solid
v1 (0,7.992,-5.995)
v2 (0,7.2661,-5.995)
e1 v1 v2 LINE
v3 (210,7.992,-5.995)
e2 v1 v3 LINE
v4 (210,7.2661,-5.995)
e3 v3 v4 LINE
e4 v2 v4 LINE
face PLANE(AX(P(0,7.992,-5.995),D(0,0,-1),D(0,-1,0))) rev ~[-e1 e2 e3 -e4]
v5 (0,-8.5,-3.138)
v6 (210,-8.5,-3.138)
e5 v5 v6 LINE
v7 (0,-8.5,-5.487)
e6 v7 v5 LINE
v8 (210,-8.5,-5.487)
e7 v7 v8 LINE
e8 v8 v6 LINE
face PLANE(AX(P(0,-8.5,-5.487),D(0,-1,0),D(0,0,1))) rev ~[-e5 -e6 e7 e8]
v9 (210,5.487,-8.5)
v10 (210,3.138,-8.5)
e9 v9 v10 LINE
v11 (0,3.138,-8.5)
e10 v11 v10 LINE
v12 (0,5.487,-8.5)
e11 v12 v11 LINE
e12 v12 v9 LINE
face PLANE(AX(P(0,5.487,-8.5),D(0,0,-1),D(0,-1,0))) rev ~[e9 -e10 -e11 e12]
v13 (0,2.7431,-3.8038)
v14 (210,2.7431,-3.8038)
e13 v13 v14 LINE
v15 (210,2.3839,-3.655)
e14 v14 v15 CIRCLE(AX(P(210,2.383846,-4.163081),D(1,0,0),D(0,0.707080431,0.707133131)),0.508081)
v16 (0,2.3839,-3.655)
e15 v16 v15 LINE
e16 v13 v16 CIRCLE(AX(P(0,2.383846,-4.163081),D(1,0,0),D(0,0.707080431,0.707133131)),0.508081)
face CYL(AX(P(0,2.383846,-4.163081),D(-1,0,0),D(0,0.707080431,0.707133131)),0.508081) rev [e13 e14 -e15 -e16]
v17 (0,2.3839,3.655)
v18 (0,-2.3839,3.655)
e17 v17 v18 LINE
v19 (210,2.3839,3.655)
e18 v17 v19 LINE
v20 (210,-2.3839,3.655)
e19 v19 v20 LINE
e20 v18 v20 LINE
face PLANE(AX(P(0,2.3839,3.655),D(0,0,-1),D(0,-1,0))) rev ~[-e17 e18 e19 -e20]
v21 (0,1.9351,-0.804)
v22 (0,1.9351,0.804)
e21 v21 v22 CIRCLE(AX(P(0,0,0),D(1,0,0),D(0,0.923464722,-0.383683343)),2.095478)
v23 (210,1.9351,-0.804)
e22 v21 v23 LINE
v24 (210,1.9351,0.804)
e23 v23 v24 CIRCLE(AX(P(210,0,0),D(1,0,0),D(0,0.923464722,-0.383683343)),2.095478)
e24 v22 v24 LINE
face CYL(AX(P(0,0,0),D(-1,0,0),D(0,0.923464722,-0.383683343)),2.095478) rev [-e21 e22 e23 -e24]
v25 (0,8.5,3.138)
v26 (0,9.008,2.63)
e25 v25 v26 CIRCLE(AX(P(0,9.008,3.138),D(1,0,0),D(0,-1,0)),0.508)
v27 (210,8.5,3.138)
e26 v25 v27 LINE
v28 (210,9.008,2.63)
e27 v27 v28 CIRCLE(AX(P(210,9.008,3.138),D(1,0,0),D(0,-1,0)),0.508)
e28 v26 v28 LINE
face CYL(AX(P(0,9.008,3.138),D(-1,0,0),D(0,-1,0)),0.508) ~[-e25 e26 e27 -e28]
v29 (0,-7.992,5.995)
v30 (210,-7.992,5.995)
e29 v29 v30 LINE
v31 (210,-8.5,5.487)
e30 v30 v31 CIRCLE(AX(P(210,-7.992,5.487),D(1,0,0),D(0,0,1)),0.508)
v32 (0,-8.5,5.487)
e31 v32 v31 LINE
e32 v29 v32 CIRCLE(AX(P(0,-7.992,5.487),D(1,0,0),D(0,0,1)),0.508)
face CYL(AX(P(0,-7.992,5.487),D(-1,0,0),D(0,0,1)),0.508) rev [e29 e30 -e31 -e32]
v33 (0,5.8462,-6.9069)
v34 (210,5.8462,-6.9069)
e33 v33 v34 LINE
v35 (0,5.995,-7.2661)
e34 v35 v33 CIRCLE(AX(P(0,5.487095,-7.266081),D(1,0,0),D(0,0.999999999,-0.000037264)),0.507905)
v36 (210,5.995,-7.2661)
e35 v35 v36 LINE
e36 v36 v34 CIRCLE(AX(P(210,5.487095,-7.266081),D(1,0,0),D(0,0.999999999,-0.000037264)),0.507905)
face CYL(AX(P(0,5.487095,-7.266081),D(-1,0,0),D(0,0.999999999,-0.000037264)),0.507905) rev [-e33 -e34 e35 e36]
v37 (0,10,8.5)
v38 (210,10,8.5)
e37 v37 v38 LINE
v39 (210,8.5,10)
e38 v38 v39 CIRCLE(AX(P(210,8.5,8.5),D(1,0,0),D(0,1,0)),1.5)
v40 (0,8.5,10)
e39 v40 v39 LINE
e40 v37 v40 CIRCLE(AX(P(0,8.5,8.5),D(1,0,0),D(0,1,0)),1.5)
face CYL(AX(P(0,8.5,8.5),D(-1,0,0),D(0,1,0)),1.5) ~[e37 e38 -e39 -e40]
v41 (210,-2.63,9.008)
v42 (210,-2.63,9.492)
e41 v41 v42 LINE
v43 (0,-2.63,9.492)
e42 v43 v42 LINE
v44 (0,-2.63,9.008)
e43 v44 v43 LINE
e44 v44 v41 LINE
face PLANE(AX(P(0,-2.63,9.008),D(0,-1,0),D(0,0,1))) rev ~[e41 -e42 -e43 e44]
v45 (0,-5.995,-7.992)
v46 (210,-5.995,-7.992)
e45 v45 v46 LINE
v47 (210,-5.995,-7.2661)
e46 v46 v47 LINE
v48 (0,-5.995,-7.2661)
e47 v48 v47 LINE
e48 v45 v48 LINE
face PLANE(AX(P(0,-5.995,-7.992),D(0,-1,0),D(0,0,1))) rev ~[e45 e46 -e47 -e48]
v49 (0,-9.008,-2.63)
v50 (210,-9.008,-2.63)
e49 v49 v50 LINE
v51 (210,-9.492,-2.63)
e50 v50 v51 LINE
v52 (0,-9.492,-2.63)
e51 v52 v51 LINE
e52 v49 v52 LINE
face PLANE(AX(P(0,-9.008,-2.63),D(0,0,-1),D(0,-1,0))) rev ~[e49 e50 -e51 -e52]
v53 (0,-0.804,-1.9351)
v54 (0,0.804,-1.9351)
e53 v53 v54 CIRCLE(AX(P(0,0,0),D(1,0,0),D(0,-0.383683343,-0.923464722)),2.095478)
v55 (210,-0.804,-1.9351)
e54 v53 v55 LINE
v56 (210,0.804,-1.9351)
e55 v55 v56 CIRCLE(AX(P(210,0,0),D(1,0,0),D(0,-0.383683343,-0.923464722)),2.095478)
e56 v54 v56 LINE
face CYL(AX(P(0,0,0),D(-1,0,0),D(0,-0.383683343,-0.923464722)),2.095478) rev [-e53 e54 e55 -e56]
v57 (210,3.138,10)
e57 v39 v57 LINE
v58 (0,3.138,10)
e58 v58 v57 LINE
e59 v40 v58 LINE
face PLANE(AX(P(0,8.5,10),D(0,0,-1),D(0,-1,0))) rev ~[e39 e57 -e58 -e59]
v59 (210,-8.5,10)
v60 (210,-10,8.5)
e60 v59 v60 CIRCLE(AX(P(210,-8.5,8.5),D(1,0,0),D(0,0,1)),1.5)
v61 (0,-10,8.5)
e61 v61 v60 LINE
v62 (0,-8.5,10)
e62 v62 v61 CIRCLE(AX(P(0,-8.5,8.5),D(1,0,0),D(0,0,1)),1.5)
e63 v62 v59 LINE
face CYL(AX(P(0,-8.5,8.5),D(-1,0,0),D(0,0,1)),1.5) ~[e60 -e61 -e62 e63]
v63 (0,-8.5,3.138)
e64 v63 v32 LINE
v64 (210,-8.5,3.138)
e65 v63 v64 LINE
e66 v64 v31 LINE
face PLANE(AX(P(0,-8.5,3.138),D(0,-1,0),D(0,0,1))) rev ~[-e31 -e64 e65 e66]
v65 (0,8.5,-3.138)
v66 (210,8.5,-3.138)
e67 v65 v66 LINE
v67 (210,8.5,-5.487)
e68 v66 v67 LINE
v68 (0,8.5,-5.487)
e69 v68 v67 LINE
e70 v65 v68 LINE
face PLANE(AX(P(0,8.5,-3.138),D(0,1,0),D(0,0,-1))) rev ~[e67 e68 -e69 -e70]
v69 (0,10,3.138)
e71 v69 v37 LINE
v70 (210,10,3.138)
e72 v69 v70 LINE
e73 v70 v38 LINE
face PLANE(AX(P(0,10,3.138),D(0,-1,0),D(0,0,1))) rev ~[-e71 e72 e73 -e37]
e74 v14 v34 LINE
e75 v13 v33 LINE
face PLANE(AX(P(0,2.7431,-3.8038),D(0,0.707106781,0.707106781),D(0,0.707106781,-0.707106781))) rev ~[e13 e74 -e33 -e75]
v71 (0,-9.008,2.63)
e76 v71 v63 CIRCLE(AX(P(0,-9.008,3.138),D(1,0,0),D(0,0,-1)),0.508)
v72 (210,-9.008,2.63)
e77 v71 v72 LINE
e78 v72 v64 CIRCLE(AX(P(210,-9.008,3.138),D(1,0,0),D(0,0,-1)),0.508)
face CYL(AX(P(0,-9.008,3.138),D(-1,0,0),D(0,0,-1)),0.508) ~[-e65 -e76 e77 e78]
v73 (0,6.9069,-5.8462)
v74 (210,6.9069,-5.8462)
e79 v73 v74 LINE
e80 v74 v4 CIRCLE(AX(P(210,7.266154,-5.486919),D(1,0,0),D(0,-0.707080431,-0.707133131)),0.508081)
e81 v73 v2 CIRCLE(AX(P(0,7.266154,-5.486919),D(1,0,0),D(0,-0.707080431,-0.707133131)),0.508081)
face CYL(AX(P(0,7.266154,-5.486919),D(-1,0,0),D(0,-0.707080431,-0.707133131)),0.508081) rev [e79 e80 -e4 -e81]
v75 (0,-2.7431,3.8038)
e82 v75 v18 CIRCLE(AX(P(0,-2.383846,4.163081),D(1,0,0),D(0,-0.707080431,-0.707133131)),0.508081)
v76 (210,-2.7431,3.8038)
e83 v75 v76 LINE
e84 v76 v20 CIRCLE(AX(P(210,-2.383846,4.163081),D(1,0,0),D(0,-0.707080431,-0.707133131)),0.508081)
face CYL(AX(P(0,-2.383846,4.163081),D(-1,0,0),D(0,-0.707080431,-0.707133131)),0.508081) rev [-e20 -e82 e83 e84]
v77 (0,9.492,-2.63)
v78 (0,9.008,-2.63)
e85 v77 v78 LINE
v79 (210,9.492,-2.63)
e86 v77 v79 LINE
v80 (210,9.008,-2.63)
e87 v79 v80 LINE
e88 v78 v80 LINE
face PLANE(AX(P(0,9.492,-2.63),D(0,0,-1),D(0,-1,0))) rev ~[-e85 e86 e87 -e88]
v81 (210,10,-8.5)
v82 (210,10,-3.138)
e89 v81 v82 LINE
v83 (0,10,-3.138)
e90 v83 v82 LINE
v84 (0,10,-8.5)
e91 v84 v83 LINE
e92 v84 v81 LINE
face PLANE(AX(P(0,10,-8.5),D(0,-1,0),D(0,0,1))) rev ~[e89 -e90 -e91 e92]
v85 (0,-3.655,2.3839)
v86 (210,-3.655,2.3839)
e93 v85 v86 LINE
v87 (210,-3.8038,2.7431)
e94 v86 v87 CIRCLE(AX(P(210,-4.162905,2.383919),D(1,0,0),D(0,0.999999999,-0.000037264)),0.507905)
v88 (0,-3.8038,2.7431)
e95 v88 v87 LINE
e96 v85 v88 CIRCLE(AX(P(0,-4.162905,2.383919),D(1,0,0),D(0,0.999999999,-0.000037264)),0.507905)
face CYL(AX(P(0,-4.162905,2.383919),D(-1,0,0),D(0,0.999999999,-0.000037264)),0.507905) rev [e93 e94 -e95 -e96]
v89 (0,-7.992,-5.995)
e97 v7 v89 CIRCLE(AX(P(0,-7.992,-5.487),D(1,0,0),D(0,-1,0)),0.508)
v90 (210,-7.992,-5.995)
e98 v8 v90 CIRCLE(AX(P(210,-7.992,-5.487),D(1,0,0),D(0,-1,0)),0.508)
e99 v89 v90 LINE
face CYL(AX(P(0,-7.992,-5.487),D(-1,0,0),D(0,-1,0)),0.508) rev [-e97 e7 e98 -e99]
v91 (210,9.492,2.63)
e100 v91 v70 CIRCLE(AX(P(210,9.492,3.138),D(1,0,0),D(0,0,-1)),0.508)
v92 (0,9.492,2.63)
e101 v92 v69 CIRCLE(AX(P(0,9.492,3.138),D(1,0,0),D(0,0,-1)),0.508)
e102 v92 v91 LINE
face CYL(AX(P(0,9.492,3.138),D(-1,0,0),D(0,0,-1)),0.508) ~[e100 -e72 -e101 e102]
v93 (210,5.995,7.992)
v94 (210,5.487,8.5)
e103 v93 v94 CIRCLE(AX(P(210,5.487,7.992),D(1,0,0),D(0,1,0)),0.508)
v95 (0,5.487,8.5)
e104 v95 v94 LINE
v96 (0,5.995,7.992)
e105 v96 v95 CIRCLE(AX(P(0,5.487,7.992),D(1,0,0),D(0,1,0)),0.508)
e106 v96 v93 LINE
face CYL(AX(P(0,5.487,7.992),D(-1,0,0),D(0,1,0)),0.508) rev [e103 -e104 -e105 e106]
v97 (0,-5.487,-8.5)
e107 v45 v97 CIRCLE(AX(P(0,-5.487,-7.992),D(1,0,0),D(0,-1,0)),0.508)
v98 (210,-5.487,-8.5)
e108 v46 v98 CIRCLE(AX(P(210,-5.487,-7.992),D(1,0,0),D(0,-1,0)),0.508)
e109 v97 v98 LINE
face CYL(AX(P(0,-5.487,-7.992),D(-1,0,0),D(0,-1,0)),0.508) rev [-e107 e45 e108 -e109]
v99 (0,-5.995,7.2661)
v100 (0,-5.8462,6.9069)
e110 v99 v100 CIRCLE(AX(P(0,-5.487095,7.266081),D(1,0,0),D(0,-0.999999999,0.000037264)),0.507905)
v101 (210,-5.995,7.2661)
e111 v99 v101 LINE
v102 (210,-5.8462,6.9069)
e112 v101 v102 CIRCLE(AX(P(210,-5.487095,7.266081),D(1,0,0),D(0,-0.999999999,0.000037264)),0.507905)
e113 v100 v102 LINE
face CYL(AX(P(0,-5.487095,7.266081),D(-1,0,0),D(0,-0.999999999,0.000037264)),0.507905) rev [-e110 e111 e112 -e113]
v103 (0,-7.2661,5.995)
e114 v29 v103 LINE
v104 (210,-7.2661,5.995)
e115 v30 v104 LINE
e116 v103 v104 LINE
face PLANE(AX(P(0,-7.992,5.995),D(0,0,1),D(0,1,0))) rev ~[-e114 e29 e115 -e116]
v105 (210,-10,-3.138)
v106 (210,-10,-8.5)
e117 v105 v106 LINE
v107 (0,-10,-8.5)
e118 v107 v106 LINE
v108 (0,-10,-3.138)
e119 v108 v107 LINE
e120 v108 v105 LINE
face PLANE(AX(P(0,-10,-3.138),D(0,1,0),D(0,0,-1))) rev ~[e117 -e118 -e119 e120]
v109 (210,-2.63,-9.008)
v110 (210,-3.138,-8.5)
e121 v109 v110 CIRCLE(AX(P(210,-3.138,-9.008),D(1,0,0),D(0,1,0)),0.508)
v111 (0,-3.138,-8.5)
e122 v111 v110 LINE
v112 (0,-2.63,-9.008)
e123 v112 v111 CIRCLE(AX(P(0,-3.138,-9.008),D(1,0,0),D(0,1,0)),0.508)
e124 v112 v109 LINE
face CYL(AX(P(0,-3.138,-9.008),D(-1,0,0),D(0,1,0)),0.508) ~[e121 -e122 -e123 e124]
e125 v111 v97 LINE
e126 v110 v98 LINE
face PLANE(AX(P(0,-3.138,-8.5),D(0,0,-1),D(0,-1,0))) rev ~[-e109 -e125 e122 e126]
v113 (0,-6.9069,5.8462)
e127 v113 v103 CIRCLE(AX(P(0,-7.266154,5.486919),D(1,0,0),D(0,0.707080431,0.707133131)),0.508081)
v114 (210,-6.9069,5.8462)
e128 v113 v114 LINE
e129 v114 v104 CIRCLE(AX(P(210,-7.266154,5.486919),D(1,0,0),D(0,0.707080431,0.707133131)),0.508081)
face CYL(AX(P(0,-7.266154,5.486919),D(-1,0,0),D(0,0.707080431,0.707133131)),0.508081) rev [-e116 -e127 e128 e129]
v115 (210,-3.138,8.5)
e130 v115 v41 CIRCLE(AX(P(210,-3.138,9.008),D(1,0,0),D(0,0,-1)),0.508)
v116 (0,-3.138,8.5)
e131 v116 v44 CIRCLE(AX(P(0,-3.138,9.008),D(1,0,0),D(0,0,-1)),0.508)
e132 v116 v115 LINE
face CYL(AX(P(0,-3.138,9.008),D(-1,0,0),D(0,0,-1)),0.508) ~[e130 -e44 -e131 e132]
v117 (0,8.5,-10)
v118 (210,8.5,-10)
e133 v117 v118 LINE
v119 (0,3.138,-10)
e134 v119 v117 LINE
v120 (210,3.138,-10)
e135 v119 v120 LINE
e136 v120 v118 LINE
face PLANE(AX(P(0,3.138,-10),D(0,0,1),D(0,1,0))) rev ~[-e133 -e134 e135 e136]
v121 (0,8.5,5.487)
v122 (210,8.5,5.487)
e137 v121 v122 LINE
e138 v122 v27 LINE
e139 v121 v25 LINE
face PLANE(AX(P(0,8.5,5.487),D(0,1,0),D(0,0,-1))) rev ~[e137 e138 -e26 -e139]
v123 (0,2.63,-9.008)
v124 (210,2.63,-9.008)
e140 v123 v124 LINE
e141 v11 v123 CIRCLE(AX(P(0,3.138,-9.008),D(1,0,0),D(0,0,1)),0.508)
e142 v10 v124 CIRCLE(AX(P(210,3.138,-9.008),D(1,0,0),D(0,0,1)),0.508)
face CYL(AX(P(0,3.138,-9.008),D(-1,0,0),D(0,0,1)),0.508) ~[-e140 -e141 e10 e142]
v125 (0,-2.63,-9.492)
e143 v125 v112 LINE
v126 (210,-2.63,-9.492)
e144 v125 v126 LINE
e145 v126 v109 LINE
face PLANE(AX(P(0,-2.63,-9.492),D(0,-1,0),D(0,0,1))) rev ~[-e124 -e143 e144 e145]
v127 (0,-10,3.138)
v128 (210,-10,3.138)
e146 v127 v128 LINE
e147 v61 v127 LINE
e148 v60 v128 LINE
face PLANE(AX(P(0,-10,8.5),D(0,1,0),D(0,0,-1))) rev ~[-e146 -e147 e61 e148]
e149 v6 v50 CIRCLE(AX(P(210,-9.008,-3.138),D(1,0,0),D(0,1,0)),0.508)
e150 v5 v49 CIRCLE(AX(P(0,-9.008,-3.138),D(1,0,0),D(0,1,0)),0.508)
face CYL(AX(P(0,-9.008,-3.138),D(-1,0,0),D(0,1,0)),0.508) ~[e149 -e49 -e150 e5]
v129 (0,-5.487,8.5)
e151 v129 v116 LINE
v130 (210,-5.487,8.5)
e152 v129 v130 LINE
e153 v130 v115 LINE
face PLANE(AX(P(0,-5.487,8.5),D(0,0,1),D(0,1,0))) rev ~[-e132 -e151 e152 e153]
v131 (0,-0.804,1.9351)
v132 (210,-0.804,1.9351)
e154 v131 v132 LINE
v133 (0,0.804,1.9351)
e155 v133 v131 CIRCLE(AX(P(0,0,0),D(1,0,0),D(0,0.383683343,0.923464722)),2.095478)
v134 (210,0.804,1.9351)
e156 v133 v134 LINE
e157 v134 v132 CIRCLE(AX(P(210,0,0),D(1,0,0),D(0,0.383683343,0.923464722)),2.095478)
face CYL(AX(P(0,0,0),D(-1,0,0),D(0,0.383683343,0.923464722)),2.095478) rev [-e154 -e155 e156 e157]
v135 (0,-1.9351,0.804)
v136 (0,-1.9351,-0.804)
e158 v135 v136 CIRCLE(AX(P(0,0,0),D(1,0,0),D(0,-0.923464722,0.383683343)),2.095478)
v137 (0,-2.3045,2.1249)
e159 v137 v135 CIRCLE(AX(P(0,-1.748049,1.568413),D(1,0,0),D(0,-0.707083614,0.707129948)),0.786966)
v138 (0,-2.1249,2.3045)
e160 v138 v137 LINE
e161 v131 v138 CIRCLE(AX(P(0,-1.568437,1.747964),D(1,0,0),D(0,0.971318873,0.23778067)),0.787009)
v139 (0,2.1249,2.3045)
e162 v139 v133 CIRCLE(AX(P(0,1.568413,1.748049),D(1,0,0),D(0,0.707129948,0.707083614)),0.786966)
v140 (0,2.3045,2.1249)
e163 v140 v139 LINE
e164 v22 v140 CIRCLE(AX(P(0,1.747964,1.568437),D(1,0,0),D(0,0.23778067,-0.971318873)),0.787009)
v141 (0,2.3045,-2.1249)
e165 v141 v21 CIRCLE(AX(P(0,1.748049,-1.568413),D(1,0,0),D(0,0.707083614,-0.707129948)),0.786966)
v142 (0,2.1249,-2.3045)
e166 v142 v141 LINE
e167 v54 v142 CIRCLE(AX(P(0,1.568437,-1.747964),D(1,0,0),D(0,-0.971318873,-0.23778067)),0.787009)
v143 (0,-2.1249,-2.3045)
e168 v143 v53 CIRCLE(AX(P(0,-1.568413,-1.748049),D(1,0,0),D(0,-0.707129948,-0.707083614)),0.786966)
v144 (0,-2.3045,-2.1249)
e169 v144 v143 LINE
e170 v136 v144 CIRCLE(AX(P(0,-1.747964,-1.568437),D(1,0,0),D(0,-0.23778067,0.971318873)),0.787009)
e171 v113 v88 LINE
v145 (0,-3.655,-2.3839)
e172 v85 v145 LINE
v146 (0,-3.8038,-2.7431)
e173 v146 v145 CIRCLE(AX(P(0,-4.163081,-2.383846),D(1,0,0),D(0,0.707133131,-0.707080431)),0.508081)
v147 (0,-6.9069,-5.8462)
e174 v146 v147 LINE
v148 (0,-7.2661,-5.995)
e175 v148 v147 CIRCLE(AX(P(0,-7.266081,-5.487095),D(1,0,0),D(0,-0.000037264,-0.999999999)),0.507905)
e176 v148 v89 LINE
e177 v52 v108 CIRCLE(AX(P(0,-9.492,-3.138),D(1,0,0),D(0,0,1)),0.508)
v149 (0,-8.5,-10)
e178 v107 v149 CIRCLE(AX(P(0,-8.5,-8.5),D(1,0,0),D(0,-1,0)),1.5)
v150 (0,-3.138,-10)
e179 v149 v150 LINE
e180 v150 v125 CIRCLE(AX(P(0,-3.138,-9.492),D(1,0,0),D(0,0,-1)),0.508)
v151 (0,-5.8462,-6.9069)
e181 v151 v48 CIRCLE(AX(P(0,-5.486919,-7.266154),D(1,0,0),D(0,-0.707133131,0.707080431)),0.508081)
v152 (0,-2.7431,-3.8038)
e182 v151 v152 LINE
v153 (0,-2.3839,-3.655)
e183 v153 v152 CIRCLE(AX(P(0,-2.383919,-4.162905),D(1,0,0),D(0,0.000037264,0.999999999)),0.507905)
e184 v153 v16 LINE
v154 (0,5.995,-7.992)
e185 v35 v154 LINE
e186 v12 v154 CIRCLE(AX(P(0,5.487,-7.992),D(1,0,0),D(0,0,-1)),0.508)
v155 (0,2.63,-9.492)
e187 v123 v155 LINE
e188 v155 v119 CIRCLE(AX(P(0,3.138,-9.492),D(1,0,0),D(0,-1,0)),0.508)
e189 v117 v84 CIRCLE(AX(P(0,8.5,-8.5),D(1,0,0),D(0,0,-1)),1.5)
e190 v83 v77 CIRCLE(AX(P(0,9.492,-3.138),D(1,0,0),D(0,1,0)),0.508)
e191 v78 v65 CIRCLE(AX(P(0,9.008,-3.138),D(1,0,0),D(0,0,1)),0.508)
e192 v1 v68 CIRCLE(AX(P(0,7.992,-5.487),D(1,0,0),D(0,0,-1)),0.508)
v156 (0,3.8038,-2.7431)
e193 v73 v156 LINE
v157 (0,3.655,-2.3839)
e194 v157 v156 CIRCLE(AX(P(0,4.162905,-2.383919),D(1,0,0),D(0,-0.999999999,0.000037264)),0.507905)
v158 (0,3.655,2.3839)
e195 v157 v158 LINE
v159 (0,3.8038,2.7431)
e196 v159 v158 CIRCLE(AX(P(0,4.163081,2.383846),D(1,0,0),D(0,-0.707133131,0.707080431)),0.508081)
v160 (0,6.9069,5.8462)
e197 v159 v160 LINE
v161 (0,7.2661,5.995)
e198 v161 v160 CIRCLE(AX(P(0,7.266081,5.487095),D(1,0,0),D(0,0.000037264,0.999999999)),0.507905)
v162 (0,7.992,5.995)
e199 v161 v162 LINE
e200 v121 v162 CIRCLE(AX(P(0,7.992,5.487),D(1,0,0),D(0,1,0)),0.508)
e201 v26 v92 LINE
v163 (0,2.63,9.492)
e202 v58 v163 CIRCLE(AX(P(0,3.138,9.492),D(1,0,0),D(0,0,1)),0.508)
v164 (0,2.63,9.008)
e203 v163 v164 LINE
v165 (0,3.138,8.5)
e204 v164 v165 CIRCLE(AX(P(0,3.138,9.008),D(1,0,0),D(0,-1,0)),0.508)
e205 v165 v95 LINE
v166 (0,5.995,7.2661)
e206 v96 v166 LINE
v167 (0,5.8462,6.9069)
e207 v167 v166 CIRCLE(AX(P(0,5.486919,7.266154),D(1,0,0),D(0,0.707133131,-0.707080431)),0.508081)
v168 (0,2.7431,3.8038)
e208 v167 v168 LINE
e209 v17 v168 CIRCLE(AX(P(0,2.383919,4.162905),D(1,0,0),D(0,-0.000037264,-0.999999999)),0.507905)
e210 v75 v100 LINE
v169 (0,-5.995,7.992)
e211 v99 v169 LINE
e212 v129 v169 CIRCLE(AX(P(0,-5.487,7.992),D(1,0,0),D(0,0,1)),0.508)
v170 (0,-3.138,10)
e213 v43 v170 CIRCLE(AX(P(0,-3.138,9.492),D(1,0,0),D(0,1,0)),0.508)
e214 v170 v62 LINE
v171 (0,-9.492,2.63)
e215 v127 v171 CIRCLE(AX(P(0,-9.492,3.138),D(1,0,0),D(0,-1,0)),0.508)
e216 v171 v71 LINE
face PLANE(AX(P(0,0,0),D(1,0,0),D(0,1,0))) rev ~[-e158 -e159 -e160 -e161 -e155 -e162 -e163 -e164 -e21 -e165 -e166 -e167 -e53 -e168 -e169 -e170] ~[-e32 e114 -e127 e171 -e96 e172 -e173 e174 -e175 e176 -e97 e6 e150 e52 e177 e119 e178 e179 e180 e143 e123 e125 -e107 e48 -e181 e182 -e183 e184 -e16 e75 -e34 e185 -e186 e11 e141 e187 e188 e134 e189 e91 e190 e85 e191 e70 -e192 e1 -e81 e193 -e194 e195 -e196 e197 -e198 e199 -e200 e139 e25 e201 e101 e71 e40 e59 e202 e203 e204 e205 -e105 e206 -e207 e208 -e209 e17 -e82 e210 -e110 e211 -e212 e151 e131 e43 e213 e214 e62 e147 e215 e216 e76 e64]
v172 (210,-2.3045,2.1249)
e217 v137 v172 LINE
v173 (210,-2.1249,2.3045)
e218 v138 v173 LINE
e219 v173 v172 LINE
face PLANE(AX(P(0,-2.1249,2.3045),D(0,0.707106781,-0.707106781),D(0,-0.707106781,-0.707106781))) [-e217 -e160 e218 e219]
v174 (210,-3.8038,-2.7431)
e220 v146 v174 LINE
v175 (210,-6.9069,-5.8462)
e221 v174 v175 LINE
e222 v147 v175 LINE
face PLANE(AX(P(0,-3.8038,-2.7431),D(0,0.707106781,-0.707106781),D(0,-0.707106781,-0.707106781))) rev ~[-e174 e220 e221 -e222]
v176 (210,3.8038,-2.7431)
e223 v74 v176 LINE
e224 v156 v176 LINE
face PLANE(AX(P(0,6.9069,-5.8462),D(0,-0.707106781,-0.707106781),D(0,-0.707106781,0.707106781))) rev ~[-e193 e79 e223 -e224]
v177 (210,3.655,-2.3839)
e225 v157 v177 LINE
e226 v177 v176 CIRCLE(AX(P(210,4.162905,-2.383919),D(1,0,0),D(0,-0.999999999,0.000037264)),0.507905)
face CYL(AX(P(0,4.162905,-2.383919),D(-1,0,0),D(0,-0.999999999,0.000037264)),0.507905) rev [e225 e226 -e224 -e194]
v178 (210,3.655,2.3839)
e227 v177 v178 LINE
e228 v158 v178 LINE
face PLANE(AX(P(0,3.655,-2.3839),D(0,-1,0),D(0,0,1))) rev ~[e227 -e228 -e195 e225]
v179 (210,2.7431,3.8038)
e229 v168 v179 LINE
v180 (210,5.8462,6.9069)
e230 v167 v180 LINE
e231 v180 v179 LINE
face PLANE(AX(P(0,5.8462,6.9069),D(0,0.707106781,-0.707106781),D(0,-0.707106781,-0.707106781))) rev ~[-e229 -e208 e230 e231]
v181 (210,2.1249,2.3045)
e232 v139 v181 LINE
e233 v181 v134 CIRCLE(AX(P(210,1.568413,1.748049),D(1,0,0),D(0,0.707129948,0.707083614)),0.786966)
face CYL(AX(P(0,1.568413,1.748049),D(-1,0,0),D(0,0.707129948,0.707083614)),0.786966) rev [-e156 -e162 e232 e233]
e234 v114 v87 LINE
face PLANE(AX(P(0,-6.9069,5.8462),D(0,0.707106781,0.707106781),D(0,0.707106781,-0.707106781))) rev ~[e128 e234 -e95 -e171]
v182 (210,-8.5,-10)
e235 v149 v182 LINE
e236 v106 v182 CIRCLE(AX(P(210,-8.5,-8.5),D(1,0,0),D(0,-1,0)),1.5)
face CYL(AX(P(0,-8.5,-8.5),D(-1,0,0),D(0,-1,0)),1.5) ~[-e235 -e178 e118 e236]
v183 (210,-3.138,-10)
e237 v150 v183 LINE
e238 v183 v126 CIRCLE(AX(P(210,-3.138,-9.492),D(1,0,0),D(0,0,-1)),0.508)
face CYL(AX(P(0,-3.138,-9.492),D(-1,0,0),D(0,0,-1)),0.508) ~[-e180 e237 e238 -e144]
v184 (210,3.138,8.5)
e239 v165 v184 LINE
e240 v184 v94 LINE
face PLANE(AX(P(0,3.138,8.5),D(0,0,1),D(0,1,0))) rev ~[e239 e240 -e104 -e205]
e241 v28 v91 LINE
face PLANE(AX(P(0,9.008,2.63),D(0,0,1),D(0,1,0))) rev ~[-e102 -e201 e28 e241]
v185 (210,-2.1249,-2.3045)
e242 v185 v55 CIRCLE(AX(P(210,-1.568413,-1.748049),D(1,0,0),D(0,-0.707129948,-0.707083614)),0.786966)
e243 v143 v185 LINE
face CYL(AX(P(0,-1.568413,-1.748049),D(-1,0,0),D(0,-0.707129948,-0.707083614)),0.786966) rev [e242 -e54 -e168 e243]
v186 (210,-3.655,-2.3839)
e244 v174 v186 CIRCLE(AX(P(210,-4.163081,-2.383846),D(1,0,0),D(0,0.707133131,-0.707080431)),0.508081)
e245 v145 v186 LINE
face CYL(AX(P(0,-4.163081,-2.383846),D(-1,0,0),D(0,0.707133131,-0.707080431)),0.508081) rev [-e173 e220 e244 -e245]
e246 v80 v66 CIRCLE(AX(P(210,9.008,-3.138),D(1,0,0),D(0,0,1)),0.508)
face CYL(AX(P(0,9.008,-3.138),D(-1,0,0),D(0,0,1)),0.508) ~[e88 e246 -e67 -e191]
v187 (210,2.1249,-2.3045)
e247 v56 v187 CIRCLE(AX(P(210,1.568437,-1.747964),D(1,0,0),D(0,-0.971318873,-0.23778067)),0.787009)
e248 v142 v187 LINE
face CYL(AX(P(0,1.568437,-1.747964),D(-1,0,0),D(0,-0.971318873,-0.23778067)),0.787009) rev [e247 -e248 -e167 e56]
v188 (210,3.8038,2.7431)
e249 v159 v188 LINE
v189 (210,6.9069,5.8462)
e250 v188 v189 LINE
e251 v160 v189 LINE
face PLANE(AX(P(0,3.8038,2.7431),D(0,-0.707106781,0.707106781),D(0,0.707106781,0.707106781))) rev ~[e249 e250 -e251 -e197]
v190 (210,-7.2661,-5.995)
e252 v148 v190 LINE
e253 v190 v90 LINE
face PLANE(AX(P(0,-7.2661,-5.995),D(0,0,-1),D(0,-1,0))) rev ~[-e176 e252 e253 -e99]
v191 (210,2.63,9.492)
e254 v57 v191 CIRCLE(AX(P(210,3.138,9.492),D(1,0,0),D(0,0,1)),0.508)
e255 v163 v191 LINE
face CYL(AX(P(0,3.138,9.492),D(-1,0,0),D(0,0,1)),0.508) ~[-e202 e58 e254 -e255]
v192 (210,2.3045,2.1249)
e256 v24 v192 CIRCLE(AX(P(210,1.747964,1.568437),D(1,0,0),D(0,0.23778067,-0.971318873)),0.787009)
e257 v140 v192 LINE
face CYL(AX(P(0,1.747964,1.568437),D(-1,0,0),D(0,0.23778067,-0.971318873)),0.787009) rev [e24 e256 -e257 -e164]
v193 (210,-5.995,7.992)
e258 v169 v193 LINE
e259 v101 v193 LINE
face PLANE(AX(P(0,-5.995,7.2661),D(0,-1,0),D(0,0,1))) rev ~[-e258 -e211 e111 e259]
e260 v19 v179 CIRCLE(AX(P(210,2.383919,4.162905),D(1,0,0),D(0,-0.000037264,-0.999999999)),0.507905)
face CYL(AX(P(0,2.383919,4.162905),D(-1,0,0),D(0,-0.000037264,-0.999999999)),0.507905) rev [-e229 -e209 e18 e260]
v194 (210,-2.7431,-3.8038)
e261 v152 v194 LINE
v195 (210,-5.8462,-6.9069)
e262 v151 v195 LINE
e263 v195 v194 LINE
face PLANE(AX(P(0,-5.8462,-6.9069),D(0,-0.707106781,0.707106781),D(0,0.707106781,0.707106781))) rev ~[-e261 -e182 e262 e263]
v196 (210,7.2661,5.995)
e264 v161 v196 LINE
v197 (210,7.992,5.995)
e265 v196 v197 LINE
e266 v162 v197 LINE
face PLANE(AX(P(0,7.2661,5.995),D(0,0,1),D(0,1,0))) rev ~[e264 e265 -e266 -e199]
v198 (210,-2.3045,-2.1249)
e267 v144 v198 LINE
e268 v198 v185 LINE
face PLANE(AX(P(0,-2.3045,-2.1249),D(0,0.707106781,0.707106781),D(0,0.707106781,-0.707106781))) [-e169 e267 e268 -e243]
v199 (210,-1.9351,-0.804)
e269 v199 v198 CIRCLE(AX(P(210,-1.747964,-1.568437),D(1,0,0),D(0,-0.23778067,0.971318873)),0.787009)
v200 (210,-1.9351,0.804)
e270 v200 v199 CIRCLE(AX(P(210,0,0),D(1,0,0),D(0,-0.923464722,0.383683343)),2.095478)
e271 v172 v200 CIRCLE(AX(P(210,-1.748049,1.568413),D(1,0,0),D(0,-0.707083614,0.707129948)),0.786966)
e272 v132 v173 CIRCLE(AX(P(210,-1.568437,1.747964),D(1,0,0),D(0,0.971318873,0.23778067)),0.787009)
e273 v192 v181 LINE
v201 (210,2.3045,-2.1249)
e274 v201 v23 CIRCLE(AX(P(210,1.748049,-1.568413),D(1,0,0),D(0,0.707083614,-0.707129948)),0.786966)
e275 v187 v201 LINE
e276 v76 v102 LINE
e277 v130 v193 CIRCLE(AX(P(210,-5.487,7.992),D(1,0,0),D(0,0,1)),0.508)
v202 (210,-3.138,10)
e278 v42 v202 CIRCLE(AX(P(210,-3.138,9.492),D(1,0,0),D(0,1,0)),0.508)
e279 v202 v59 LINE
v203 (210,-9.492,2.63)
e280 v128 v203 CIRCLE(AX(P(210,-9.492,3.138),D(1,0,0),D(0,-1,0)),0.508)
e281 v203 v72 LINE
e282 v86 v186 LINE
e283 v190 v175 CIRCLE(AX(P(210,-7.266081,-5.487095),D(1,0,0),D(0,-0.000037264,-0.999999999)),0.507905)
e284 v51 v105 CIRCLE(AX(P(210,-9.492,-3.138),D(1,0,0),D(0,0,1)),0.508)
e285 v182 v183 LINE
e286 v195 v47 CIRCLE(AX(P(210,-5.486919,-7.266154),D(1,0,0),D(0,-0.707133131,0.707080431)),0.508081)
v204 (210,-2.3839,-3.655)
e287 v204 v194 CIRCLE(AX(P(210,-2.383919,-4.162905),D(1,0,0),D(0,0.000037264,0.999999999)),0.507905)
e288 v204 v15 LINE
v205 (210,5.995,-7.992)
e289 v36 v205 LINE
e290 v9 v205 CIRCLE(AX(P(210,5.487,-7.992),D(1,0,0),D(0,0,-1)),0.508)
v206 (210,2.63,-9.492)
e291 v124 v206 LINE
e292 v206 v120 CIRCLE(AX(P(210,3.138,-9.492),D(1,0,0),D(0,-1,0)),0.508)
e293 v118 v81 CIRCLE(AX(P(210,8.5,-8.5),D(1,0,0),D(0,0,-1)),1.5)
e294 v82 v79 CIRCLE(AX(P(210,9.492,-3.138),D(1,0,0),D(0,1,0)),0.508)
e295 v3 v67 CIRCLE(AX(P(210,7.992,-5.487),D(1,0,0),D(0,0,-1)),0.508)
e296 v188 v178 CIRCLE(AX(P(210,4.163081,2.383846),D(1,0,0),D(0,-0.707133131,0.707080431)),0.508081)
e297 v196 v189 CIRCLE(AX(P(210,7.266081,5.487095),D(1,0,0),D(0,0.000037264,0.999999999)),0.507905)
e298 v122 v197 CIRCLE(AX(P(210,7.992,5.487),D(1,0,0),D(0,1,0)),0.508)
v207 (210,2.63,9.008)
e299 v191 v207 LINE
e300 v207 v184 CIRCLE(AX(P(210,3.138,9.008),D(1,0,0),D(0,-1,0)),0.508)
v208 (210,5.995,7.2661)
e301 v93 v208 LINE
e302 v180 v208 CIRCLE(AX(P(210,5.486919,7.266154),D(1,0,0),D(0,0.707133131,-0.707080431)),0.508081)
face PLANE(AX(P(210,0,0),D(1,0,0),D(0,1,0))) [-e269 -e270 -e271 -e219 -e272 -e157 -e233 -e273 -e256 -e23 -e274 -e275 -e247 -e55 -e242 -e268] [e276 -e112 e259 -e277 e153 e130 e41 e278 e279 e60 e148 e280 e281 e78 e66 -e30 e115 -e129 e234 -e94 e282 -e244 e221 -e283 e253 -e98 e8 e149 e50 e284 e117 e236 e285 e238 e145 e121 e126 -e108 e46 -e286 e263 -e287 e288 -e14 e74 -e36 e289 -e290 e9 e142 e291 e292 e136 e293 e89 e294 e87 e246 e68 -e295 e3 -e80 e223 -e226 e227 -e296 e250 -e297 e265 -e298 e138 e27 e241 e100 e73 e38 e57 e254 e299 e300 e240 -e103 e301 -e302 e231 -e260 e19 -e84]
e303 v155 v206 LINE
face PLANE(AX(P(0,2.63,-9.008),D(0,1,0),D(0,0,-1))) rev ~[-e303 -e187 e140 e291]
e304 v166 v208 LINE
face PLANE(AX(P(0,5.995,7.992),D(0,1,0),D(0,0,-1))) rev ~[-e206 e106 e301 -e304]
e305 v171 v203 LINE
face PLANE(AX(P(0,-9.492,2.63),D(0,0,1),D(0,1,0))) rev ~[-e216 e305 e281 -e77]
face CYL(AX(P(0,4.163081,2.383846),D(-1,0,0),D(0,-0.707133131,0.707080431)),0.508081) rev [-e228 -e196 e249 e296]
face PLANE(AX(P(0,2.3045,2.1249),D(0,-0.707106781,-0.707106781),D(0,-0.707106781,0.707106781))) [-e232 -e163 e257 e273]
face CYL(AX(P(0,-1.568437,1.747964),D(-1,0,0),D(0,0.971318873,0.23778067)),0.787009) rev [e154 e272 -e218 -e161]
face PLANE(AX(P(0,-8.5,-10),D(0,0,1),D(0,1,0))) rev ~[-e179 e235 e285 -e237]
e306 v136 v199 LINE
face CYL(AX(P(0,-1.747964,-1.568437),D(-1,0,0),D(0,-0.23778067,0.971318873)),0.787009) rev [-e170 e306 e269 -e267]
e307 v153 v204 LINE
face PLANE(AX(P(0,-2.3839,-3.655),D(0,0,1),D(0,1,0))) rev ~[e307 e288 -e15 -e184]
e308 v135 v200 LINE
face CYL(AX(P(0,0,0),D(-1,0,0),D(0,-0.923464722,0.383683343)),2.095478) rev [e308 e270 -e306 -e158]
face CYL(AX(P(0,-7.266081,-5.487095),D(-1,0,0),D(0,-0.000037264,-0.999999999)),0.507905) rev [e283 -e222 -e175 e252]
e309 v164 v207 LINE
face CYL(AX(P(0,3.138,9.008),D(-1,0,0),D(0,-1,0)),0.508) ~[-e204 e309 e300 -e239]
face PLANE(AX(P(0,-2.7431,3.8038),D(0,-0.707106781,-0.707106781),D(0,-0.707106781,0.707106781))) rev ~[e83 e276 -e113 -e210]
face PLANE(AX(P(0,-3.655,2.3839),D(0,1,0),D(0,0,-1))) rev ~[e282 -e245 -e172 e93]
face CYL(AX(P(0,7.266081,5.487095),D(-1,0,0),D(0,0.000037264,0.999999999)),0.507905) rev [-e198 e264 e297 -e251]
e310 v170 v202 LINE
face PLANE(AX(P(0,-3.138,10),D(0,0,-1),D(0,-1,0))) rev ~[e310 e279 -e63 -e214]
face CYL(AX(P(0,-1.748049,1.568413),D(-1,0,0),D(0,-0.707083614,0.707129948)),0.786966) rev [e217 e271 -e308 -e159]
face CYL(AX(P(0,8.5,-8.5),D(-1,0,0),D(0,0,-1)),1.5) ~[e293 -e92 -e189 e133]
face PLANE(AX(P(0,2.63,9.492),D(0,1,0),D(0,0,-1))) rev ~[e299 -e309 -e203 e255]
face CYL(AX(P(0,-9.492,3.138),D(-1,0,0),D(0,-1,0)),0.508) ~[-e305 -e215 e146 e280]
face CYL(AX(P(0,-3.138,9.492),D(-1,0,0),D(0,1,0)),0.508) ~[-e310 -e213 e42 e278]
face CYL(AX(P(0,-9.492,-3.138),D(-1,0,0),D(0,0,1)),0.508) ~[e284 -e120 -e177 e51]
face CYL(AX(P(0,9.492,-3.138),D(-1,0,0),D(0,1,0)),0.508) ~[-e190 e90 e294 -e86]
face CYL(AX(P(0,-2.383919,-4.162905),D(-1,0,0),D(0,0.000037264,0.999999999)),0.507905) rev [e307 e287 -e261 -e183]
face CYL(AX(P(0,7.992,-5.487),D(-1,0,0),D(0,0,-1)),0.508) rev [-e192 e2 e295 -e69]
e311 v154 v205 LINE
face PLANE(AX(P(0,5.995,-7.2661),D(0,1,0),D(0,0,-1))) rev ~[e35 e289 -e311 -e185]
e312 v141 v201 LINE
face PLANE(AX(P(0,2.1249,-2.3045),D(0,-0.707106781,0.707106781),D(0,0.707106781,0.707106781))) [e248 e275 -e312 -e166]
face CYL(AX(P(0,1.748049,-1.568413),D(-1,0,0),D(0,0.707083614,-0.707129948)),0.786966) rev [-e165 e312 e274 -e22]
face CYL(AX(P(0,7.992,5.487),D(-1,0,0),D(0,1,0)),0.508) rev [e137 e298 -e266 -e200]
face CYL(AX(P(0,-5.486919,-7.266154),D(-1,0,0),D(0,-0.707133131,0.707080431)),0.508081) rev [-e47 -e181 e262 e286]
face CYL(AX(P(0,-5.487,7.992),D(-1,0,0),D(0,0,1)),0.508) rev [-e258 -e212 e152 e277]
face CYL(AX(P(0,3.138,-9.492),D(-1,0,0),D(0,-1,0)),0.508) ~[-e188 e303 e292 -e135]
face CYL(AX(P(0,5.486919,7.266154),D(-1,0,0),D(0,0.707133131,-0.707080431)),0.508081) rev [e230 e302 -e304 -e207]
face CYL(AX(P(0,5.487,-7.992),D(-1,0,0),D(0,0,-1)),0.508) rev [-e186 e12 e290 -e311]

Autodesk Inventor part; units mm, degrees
ref_plane "YZ Plane" through (0, 0, 0) normal (1, 0, 0) x (0, 1, 0)
ref_plane "XZ Plane" through (0, 0, 0) normal (0, 1, 0) x (-1, 0, 0)
ref_plane "XY Plane" through (0, 0, 0) normal (0, 0, 1) x (1, 0, 0)
sketch "Sketch1" plane through (0, 0, 0) normal (1, 0, 0) x (0, 1, 0)
  arc A0 (0.804, -1.9351) -> (2.1249, -2.3045) centre (1.5684, -1.748) ccw
  line L0 (2.1249, -2.3045) -> (2.3045, -2.1249)
  arc A1 (2.3045, -2.1249) -> (1.9351, -0.804) centre (1.748, -1.5684) ccw
  arc A2 (1.9351, -0.804) -> (1.9351, 0.804) centre (0, 0) ccw
  arc A3 (1.9351, 0.804) -> (2.3045, 2.1249) centre (1.748, 1.5684) ccw
  line L1 (2.3045, 2.1249) -> (2.1249, 2.3045)
  arc A4 (2.1249, 2.3045) -> (0.804, 1.9351) centre (1.5684, 1.748) ccw
  arc A5 (0.804, 1.9351) -> (-0.804, 1.9351) centre (0, 0) ccw
  arc A6 (-0.804, 1.9351) -> (-2.1249, 2.3045) centre (-1.5684, 1.748) ccw
  line L2 (-2.1249, 2.3045) -> (-2.3045, 2.1249)
  arc A7 (-2.3045, 2.1249) -> (-1.9351, 0.804) centre (-1.748, 1.5684) ccw
  arc A8 (-1.9351, 0.804) -> (-1.9351, -0.804) centre (0, 0) ccw
  arc A9 (-1.9351, -0.804) -> (-2.3045, -2.1249) centre (-1.748, -1.5684) ccw
  line L3 (-2.3045, -2.1249) -> (-2.1249, -2.3045)
  arc A10 (-2.1249, -2.3045) -> (-0.804, -1.9351) centre (-1.5684, -1.748) ccw
  arc A11 (-0.804, -1.9351) -> (0.804, -1.9351) centre (0, 0) ccw
  line L4 (9.008, 2.63) -> (9.492, 2.63)
  arc A12 (8.5, 3.138) -> (9.008, 2.63) centre (9.008, 3.138) ccw
  line L5 (8.5, 5.487) -> (8.5, 3.138)
  arc A13 (8.5, 5.487) -> (7.992, 5.995) centre (7.992, 5.487) ccw
  line L6 (7.2661, 5.995) -> (7.992, 5.995)
  arc A14 (7.2661, 5.995) -> (6.9069, 5.8462) centre (7.2661, 5.487) ccw
  line L7 (3.8038, 2.7431) -> (6.9069, 5.8462)
  arc A15 (3.8038, 2.7431) -> (3.655, 2.3839) centre (4.163, 2.3839) ccw
  line L8 (3.655, -2.3839) -> (3.655, 2.3839)
  arc A16 (3.655, -2.3839) -> (3.8038, -2.7431) centre (4.163, -2.3839) ccw
  line L9 (6.9069, -5.8462) -> (3.8038, -2.7431)
  arc A17 (6.9069, -5.8462) -> (7.2661, -5.995) centre (7.2661, -5.487) ccw
  line L10 (7.992, -5.995) -> (7.2661, -5.995)
  arc A18 (7.992, -5.995) -> (8.5, -5.487) centre (7.992, -5.487) ccw
  line L11 (8.5, -3.138) -> (8.5, -5.487)
  arc A19 (9.008, -2.63) -> (8.5, -3.138) centre (9.008, -3.138) ccw
  line L12 (9.492, -2.63) -> (9.008, -2.63)
  arc A20 (10, -3.138) -> (9.492, -2.63) centre (9.492, -3.138) ccw
  line L13 (10, -8.5) -> (10, -3.138)
  arc A21 (8.5, -10) -> (10, -8.5) centre (8.5, -8.5) ccw
  line L14 (3.138, -10) -> (8.5, -10)
  arc A22 (2.63, -9.492) -> (3.138, -10) centre (3.138, -9.492) ccw
  line L15 (2.63, -9.008) -> (2.63, -9.492)
  arc A23 (3.138, -8.5) -> (2.63, -9.008) centre (3.138, -9.008) ccw
  line L16 (5.487, -8.5) -> (3.138, -8.5)
  arc A24 (5.487, -8.5) -> (5.995, -7.992) centre (5.487, -7.992) ccw
  line L17 (5.995, -7.2661) -> (5.995, -7.992)
  arc A25 (5.995, -7.2661) -> (5.8462, -6.9069) centre (5.487, -7.2661) ccw
  line L18 (2.7431, -3.8038) -> (5.8462, -6.9069)
  arc A26 (2.7431, -3.8038) -> (2.3839, -3.655) centre (2.3839, -4.163) ccw
  line L19 (-2.3839, -3.655) -> (2.3839, -3.655)
  arc A27 (-2.3839, -3.655) -> (-2.7431, -3.8038) centre (-2.3839, -4.163) ccw
  line L20 (-5.8462, -6.9069) -> (-2.7431, -3.8038)
  arc A28 (-5.8462, -6.9069) -> (-5.995, -7.2661) centre (-5.487, -7.2661) ccw
  line L21 (-5.995, -7.992) -> (-5.995, -7.2661)
  arc A29 (-5.995, -7.992) -> (-5.487, -8.5) centre (-5.487, -7.992) ccw
  line L22 (-3.138, -8.5) -> (-5.487, -8.5)
  arc A30 (-2.63, -9.008) -> (-3.138, -8.5) centre (-3.138, -9.008) ccw
  line L23 (-2.63, -9.492) -> (-2.63, -9.008)
  arc A31 (-3.138, -10) -> (-2.63, -9.492) centre (-3.138, -9.492) ccw
  line L24 (-8.5, -10) -> (-3.138, -10)
  arc A32 (-10, -8.5) -> (-8.5, -10) centre (-8.5, -8.5) ccw
  line L25 (-10, -3.138) -> (-10, -8.5)
  arc A33 (-9.492, -2.63) -> (-10, -3.138) centre (-9.492, -3.138) ccw
  line L26 (-9.008, -2.63) -> (-9.492, -2.63)
  arc A34 (-8.5, -3.138) -> (-9.008, -2.63) centre (-9.008, -3.138) ccw
  line L27 (-8.5, -5.487) -> (-8.5, -3.138)
  arc A35 (-8.5, -5.487) -> (-7.992, -5.995) centre (-7.992, -5.487) ccw
  line L28 (-7.2661, -5.995) -> (-7.992, -5.995)
  arc A36 (-7.2661, -5.995) -> (-6.9069, -5.8462) centre (-7.2661, -5.487) ccw
  line L29 (-3.8038, -2.7431) -> (-6.9069, -5.8462)
  arc A37 (-3.8038, -2.7431) -> (-3.655, -2.3839) centre (-4.163, -2.3839) ccw
  line L30 (-3.655, 2.3839) -> (-3.655, -2.3839)
  arc A38 (-3.655, 2.3839) -> (-3.8038, 2.7431) centre (-4.163, 2.3839) ccw
  line L31 (-6.9069, 5.8462) -> (-3.8038, 2.7431)
  arc A39 (-6.9069, 5.8462) -> (-7.2661, 5.995) centre (-7.2661, 5.487) ccw
  line L32 (-7.992, 5.995) -> (-7.2661, 5.995)
  arc A40 (-7.992, 5.995) -> (-8.5, 5.487) centre (-7.992, 5.487) ccw
  line L33 (-8.5, 3.138) -> (-8.5, 5.487)
  arc A41 (-9.008, 2.63) -> (-8.5, 3.138) centre (-9.008, 3.138) ccw
  line L34 (-9.492, 2.63) -> (-9.008, 2.63)
  arc A42 (-10, 3.138) -> (-9.492, 2.63) centre (-9.492, 3.138) ccw
  line L35 (-10, 8.5) -> (-10, 3.138)
  arc A43 (-8.5, 10) -> (-10, 8.5) centre (-8.5, 8.5) ccw
  line L36 (-3.138, 10) -> (-8.5, 10)
  arc A44 (-2.63, 9.492) -> (-3.138, 10) centre (-3.138, 9.492) ccw
  line L37 (-2.63, 9.008) -> (-2.63, 9.492)
  arc A45 (-3.138, 8.5) -> (-2.63, 9.008) centre (-3.138, 9.008) ccw
  line L38 (-5.487, 8.5) -> (-3.138, 8.5)
  arc A46 (-5.487, 8.5) -> (-5.995, 7.992) centre (-5.487, 7.992) ccw
  line L39 (-5.995, 7.2661) -> (-5.995, 7.992)
  arc A47 (-5.995, 7.2661) -> (-5.8462, 6.9069) centre (-5.487, 7.2661) ccw
  line L40 (-2.7431, 3.8038) -> (-5.8462, 6.9069)
  arc A48 (-2.7431, 3.8038) -> (-2.3839, 3.655) centre (-2.3839, 4.163) ccw
  line L41 (2.3839, 3.655) -> (-2.3839, 3.655)
  arc A49 (2.3839, 3.655) -> (2.7431, 3.8038) centre (2.3839, 4.163) ccw
  line L42 (5.8462, 6.9069) -> (2.7431, 3.8038)
  arc A50 (5.8462, 6.9069) -> (5.995, 7.2661) centre (5.487, 7.2661) ccw
  line L43 (5.995, 7.992) -> (5.995, 7.2661)
  arc A51 (5.995, 7.992) -> (5.487, 8.5) centre (5.487, 7.992) ccw
  line L44 (3.138, 8.5) -> (5.487, 8.5)
  arc A52 (2.63, 9.008) -> (3.138, 8.5) centre (3.138, 9.008) ccw
  line L45 (2.63, 9.492) -> (2.63, 9.008)
  arc A53 (3.138, 10) -> (2.63, 9.492) centre (3.138, 9.492) ccw
  line L46 (8.5, 10) -> (3.138, 10)
  arc A54 (10, 8.5) -> (8.5, 10) centre (8.5, 8.5) ccw
  line L47 (10, 3.138) -> (10, 8.5)
  arc A55 (9.492, 2.63) -> (10, 3.138) centre (9.492, 3.138) ccw
  point P0 (0.804, -1.9351)
  point P1 (-0.804, -1.9351)
  point P2 (-2.3045, -2.1249)
  point P3 (-1.9351, -0.804)
  point P4 (-1.9351, 0.804)
  point P5 (-2.1249, 2.3045)
  point P6 (-0.804, 1.9351)
  point P7 (0.804, 1.9351)
  point P8 (2.3045, 2.1249)
  point P9 (1.9351, 0.804)
  point P10 (1.9351, -0.804)
  point P11 (2.1249, -2.3045)
  point P12 (8.5, 3.138)
  point P13 (10, 8.5)
  point P14 (3.138, 10)
  point P15 (2.63, 9.008)
  point P16 (5.487, 8.5)
  point P17 (5.995, 7.2661)
  point P18 (2.7431, 3.8038)
  point P19 (-2.3839, 3.655)
  point P20 (-5.8462, 6.9069)
  point P21 (-5.995, 7.992)
  point P22 (-3.138, 8.5)
  point P23 (-2.63, 9.492)
  point P24 (-8.5, 10)
  point P25 (-10, 3.138)
  point P26 (-9.008, 2.63)
  point P27 (-8.5, 5.487)
  point P28 (-7.2661, 5.995)
  point P29 (-3.8038, 2.7431)
  point P30 (-3.655, -2.3839)
  point P31 (-6.9069, -5.8462)
  point P32 (-7.992, -5.995)
  point P33 (-8.5, -3.138)
  point P34 (-9.492, -2.63)
  point P35 (-10, -8.5)
  point P36 (-3.138, -10)
  point P37 (-2.63, -9.008)
  point P38 (-5.487, -8.5)
  point P39 (-5.995, -7.2661)
  point P40 (-2.7431, -3.8038)
  point P41 (2.3839, -3.655)
  point P42 (5.8462, -6.9069)
  point P43 (5.995, -7.992)
  point P44 (3.138, -8.5)
  point P45 (2.63, -9.492)
  point P46 (8.5, -10)
  point P47 (10, -3.138)
  point P48 (9.008, -2.63)
  point P49 (8.5, -5.487)
  point P50 (7.2661, -5.995)
  point P51 (3.8038, -2.7431)
  point P52 (3.655, 2.3839)
  point P53 (6.9069, 5.8462)
  point P54 (7.992, 5.995)
extrude "Extrusion1" add sketch "Sketch1" along normal blind 210
properties part number "2020_140"
